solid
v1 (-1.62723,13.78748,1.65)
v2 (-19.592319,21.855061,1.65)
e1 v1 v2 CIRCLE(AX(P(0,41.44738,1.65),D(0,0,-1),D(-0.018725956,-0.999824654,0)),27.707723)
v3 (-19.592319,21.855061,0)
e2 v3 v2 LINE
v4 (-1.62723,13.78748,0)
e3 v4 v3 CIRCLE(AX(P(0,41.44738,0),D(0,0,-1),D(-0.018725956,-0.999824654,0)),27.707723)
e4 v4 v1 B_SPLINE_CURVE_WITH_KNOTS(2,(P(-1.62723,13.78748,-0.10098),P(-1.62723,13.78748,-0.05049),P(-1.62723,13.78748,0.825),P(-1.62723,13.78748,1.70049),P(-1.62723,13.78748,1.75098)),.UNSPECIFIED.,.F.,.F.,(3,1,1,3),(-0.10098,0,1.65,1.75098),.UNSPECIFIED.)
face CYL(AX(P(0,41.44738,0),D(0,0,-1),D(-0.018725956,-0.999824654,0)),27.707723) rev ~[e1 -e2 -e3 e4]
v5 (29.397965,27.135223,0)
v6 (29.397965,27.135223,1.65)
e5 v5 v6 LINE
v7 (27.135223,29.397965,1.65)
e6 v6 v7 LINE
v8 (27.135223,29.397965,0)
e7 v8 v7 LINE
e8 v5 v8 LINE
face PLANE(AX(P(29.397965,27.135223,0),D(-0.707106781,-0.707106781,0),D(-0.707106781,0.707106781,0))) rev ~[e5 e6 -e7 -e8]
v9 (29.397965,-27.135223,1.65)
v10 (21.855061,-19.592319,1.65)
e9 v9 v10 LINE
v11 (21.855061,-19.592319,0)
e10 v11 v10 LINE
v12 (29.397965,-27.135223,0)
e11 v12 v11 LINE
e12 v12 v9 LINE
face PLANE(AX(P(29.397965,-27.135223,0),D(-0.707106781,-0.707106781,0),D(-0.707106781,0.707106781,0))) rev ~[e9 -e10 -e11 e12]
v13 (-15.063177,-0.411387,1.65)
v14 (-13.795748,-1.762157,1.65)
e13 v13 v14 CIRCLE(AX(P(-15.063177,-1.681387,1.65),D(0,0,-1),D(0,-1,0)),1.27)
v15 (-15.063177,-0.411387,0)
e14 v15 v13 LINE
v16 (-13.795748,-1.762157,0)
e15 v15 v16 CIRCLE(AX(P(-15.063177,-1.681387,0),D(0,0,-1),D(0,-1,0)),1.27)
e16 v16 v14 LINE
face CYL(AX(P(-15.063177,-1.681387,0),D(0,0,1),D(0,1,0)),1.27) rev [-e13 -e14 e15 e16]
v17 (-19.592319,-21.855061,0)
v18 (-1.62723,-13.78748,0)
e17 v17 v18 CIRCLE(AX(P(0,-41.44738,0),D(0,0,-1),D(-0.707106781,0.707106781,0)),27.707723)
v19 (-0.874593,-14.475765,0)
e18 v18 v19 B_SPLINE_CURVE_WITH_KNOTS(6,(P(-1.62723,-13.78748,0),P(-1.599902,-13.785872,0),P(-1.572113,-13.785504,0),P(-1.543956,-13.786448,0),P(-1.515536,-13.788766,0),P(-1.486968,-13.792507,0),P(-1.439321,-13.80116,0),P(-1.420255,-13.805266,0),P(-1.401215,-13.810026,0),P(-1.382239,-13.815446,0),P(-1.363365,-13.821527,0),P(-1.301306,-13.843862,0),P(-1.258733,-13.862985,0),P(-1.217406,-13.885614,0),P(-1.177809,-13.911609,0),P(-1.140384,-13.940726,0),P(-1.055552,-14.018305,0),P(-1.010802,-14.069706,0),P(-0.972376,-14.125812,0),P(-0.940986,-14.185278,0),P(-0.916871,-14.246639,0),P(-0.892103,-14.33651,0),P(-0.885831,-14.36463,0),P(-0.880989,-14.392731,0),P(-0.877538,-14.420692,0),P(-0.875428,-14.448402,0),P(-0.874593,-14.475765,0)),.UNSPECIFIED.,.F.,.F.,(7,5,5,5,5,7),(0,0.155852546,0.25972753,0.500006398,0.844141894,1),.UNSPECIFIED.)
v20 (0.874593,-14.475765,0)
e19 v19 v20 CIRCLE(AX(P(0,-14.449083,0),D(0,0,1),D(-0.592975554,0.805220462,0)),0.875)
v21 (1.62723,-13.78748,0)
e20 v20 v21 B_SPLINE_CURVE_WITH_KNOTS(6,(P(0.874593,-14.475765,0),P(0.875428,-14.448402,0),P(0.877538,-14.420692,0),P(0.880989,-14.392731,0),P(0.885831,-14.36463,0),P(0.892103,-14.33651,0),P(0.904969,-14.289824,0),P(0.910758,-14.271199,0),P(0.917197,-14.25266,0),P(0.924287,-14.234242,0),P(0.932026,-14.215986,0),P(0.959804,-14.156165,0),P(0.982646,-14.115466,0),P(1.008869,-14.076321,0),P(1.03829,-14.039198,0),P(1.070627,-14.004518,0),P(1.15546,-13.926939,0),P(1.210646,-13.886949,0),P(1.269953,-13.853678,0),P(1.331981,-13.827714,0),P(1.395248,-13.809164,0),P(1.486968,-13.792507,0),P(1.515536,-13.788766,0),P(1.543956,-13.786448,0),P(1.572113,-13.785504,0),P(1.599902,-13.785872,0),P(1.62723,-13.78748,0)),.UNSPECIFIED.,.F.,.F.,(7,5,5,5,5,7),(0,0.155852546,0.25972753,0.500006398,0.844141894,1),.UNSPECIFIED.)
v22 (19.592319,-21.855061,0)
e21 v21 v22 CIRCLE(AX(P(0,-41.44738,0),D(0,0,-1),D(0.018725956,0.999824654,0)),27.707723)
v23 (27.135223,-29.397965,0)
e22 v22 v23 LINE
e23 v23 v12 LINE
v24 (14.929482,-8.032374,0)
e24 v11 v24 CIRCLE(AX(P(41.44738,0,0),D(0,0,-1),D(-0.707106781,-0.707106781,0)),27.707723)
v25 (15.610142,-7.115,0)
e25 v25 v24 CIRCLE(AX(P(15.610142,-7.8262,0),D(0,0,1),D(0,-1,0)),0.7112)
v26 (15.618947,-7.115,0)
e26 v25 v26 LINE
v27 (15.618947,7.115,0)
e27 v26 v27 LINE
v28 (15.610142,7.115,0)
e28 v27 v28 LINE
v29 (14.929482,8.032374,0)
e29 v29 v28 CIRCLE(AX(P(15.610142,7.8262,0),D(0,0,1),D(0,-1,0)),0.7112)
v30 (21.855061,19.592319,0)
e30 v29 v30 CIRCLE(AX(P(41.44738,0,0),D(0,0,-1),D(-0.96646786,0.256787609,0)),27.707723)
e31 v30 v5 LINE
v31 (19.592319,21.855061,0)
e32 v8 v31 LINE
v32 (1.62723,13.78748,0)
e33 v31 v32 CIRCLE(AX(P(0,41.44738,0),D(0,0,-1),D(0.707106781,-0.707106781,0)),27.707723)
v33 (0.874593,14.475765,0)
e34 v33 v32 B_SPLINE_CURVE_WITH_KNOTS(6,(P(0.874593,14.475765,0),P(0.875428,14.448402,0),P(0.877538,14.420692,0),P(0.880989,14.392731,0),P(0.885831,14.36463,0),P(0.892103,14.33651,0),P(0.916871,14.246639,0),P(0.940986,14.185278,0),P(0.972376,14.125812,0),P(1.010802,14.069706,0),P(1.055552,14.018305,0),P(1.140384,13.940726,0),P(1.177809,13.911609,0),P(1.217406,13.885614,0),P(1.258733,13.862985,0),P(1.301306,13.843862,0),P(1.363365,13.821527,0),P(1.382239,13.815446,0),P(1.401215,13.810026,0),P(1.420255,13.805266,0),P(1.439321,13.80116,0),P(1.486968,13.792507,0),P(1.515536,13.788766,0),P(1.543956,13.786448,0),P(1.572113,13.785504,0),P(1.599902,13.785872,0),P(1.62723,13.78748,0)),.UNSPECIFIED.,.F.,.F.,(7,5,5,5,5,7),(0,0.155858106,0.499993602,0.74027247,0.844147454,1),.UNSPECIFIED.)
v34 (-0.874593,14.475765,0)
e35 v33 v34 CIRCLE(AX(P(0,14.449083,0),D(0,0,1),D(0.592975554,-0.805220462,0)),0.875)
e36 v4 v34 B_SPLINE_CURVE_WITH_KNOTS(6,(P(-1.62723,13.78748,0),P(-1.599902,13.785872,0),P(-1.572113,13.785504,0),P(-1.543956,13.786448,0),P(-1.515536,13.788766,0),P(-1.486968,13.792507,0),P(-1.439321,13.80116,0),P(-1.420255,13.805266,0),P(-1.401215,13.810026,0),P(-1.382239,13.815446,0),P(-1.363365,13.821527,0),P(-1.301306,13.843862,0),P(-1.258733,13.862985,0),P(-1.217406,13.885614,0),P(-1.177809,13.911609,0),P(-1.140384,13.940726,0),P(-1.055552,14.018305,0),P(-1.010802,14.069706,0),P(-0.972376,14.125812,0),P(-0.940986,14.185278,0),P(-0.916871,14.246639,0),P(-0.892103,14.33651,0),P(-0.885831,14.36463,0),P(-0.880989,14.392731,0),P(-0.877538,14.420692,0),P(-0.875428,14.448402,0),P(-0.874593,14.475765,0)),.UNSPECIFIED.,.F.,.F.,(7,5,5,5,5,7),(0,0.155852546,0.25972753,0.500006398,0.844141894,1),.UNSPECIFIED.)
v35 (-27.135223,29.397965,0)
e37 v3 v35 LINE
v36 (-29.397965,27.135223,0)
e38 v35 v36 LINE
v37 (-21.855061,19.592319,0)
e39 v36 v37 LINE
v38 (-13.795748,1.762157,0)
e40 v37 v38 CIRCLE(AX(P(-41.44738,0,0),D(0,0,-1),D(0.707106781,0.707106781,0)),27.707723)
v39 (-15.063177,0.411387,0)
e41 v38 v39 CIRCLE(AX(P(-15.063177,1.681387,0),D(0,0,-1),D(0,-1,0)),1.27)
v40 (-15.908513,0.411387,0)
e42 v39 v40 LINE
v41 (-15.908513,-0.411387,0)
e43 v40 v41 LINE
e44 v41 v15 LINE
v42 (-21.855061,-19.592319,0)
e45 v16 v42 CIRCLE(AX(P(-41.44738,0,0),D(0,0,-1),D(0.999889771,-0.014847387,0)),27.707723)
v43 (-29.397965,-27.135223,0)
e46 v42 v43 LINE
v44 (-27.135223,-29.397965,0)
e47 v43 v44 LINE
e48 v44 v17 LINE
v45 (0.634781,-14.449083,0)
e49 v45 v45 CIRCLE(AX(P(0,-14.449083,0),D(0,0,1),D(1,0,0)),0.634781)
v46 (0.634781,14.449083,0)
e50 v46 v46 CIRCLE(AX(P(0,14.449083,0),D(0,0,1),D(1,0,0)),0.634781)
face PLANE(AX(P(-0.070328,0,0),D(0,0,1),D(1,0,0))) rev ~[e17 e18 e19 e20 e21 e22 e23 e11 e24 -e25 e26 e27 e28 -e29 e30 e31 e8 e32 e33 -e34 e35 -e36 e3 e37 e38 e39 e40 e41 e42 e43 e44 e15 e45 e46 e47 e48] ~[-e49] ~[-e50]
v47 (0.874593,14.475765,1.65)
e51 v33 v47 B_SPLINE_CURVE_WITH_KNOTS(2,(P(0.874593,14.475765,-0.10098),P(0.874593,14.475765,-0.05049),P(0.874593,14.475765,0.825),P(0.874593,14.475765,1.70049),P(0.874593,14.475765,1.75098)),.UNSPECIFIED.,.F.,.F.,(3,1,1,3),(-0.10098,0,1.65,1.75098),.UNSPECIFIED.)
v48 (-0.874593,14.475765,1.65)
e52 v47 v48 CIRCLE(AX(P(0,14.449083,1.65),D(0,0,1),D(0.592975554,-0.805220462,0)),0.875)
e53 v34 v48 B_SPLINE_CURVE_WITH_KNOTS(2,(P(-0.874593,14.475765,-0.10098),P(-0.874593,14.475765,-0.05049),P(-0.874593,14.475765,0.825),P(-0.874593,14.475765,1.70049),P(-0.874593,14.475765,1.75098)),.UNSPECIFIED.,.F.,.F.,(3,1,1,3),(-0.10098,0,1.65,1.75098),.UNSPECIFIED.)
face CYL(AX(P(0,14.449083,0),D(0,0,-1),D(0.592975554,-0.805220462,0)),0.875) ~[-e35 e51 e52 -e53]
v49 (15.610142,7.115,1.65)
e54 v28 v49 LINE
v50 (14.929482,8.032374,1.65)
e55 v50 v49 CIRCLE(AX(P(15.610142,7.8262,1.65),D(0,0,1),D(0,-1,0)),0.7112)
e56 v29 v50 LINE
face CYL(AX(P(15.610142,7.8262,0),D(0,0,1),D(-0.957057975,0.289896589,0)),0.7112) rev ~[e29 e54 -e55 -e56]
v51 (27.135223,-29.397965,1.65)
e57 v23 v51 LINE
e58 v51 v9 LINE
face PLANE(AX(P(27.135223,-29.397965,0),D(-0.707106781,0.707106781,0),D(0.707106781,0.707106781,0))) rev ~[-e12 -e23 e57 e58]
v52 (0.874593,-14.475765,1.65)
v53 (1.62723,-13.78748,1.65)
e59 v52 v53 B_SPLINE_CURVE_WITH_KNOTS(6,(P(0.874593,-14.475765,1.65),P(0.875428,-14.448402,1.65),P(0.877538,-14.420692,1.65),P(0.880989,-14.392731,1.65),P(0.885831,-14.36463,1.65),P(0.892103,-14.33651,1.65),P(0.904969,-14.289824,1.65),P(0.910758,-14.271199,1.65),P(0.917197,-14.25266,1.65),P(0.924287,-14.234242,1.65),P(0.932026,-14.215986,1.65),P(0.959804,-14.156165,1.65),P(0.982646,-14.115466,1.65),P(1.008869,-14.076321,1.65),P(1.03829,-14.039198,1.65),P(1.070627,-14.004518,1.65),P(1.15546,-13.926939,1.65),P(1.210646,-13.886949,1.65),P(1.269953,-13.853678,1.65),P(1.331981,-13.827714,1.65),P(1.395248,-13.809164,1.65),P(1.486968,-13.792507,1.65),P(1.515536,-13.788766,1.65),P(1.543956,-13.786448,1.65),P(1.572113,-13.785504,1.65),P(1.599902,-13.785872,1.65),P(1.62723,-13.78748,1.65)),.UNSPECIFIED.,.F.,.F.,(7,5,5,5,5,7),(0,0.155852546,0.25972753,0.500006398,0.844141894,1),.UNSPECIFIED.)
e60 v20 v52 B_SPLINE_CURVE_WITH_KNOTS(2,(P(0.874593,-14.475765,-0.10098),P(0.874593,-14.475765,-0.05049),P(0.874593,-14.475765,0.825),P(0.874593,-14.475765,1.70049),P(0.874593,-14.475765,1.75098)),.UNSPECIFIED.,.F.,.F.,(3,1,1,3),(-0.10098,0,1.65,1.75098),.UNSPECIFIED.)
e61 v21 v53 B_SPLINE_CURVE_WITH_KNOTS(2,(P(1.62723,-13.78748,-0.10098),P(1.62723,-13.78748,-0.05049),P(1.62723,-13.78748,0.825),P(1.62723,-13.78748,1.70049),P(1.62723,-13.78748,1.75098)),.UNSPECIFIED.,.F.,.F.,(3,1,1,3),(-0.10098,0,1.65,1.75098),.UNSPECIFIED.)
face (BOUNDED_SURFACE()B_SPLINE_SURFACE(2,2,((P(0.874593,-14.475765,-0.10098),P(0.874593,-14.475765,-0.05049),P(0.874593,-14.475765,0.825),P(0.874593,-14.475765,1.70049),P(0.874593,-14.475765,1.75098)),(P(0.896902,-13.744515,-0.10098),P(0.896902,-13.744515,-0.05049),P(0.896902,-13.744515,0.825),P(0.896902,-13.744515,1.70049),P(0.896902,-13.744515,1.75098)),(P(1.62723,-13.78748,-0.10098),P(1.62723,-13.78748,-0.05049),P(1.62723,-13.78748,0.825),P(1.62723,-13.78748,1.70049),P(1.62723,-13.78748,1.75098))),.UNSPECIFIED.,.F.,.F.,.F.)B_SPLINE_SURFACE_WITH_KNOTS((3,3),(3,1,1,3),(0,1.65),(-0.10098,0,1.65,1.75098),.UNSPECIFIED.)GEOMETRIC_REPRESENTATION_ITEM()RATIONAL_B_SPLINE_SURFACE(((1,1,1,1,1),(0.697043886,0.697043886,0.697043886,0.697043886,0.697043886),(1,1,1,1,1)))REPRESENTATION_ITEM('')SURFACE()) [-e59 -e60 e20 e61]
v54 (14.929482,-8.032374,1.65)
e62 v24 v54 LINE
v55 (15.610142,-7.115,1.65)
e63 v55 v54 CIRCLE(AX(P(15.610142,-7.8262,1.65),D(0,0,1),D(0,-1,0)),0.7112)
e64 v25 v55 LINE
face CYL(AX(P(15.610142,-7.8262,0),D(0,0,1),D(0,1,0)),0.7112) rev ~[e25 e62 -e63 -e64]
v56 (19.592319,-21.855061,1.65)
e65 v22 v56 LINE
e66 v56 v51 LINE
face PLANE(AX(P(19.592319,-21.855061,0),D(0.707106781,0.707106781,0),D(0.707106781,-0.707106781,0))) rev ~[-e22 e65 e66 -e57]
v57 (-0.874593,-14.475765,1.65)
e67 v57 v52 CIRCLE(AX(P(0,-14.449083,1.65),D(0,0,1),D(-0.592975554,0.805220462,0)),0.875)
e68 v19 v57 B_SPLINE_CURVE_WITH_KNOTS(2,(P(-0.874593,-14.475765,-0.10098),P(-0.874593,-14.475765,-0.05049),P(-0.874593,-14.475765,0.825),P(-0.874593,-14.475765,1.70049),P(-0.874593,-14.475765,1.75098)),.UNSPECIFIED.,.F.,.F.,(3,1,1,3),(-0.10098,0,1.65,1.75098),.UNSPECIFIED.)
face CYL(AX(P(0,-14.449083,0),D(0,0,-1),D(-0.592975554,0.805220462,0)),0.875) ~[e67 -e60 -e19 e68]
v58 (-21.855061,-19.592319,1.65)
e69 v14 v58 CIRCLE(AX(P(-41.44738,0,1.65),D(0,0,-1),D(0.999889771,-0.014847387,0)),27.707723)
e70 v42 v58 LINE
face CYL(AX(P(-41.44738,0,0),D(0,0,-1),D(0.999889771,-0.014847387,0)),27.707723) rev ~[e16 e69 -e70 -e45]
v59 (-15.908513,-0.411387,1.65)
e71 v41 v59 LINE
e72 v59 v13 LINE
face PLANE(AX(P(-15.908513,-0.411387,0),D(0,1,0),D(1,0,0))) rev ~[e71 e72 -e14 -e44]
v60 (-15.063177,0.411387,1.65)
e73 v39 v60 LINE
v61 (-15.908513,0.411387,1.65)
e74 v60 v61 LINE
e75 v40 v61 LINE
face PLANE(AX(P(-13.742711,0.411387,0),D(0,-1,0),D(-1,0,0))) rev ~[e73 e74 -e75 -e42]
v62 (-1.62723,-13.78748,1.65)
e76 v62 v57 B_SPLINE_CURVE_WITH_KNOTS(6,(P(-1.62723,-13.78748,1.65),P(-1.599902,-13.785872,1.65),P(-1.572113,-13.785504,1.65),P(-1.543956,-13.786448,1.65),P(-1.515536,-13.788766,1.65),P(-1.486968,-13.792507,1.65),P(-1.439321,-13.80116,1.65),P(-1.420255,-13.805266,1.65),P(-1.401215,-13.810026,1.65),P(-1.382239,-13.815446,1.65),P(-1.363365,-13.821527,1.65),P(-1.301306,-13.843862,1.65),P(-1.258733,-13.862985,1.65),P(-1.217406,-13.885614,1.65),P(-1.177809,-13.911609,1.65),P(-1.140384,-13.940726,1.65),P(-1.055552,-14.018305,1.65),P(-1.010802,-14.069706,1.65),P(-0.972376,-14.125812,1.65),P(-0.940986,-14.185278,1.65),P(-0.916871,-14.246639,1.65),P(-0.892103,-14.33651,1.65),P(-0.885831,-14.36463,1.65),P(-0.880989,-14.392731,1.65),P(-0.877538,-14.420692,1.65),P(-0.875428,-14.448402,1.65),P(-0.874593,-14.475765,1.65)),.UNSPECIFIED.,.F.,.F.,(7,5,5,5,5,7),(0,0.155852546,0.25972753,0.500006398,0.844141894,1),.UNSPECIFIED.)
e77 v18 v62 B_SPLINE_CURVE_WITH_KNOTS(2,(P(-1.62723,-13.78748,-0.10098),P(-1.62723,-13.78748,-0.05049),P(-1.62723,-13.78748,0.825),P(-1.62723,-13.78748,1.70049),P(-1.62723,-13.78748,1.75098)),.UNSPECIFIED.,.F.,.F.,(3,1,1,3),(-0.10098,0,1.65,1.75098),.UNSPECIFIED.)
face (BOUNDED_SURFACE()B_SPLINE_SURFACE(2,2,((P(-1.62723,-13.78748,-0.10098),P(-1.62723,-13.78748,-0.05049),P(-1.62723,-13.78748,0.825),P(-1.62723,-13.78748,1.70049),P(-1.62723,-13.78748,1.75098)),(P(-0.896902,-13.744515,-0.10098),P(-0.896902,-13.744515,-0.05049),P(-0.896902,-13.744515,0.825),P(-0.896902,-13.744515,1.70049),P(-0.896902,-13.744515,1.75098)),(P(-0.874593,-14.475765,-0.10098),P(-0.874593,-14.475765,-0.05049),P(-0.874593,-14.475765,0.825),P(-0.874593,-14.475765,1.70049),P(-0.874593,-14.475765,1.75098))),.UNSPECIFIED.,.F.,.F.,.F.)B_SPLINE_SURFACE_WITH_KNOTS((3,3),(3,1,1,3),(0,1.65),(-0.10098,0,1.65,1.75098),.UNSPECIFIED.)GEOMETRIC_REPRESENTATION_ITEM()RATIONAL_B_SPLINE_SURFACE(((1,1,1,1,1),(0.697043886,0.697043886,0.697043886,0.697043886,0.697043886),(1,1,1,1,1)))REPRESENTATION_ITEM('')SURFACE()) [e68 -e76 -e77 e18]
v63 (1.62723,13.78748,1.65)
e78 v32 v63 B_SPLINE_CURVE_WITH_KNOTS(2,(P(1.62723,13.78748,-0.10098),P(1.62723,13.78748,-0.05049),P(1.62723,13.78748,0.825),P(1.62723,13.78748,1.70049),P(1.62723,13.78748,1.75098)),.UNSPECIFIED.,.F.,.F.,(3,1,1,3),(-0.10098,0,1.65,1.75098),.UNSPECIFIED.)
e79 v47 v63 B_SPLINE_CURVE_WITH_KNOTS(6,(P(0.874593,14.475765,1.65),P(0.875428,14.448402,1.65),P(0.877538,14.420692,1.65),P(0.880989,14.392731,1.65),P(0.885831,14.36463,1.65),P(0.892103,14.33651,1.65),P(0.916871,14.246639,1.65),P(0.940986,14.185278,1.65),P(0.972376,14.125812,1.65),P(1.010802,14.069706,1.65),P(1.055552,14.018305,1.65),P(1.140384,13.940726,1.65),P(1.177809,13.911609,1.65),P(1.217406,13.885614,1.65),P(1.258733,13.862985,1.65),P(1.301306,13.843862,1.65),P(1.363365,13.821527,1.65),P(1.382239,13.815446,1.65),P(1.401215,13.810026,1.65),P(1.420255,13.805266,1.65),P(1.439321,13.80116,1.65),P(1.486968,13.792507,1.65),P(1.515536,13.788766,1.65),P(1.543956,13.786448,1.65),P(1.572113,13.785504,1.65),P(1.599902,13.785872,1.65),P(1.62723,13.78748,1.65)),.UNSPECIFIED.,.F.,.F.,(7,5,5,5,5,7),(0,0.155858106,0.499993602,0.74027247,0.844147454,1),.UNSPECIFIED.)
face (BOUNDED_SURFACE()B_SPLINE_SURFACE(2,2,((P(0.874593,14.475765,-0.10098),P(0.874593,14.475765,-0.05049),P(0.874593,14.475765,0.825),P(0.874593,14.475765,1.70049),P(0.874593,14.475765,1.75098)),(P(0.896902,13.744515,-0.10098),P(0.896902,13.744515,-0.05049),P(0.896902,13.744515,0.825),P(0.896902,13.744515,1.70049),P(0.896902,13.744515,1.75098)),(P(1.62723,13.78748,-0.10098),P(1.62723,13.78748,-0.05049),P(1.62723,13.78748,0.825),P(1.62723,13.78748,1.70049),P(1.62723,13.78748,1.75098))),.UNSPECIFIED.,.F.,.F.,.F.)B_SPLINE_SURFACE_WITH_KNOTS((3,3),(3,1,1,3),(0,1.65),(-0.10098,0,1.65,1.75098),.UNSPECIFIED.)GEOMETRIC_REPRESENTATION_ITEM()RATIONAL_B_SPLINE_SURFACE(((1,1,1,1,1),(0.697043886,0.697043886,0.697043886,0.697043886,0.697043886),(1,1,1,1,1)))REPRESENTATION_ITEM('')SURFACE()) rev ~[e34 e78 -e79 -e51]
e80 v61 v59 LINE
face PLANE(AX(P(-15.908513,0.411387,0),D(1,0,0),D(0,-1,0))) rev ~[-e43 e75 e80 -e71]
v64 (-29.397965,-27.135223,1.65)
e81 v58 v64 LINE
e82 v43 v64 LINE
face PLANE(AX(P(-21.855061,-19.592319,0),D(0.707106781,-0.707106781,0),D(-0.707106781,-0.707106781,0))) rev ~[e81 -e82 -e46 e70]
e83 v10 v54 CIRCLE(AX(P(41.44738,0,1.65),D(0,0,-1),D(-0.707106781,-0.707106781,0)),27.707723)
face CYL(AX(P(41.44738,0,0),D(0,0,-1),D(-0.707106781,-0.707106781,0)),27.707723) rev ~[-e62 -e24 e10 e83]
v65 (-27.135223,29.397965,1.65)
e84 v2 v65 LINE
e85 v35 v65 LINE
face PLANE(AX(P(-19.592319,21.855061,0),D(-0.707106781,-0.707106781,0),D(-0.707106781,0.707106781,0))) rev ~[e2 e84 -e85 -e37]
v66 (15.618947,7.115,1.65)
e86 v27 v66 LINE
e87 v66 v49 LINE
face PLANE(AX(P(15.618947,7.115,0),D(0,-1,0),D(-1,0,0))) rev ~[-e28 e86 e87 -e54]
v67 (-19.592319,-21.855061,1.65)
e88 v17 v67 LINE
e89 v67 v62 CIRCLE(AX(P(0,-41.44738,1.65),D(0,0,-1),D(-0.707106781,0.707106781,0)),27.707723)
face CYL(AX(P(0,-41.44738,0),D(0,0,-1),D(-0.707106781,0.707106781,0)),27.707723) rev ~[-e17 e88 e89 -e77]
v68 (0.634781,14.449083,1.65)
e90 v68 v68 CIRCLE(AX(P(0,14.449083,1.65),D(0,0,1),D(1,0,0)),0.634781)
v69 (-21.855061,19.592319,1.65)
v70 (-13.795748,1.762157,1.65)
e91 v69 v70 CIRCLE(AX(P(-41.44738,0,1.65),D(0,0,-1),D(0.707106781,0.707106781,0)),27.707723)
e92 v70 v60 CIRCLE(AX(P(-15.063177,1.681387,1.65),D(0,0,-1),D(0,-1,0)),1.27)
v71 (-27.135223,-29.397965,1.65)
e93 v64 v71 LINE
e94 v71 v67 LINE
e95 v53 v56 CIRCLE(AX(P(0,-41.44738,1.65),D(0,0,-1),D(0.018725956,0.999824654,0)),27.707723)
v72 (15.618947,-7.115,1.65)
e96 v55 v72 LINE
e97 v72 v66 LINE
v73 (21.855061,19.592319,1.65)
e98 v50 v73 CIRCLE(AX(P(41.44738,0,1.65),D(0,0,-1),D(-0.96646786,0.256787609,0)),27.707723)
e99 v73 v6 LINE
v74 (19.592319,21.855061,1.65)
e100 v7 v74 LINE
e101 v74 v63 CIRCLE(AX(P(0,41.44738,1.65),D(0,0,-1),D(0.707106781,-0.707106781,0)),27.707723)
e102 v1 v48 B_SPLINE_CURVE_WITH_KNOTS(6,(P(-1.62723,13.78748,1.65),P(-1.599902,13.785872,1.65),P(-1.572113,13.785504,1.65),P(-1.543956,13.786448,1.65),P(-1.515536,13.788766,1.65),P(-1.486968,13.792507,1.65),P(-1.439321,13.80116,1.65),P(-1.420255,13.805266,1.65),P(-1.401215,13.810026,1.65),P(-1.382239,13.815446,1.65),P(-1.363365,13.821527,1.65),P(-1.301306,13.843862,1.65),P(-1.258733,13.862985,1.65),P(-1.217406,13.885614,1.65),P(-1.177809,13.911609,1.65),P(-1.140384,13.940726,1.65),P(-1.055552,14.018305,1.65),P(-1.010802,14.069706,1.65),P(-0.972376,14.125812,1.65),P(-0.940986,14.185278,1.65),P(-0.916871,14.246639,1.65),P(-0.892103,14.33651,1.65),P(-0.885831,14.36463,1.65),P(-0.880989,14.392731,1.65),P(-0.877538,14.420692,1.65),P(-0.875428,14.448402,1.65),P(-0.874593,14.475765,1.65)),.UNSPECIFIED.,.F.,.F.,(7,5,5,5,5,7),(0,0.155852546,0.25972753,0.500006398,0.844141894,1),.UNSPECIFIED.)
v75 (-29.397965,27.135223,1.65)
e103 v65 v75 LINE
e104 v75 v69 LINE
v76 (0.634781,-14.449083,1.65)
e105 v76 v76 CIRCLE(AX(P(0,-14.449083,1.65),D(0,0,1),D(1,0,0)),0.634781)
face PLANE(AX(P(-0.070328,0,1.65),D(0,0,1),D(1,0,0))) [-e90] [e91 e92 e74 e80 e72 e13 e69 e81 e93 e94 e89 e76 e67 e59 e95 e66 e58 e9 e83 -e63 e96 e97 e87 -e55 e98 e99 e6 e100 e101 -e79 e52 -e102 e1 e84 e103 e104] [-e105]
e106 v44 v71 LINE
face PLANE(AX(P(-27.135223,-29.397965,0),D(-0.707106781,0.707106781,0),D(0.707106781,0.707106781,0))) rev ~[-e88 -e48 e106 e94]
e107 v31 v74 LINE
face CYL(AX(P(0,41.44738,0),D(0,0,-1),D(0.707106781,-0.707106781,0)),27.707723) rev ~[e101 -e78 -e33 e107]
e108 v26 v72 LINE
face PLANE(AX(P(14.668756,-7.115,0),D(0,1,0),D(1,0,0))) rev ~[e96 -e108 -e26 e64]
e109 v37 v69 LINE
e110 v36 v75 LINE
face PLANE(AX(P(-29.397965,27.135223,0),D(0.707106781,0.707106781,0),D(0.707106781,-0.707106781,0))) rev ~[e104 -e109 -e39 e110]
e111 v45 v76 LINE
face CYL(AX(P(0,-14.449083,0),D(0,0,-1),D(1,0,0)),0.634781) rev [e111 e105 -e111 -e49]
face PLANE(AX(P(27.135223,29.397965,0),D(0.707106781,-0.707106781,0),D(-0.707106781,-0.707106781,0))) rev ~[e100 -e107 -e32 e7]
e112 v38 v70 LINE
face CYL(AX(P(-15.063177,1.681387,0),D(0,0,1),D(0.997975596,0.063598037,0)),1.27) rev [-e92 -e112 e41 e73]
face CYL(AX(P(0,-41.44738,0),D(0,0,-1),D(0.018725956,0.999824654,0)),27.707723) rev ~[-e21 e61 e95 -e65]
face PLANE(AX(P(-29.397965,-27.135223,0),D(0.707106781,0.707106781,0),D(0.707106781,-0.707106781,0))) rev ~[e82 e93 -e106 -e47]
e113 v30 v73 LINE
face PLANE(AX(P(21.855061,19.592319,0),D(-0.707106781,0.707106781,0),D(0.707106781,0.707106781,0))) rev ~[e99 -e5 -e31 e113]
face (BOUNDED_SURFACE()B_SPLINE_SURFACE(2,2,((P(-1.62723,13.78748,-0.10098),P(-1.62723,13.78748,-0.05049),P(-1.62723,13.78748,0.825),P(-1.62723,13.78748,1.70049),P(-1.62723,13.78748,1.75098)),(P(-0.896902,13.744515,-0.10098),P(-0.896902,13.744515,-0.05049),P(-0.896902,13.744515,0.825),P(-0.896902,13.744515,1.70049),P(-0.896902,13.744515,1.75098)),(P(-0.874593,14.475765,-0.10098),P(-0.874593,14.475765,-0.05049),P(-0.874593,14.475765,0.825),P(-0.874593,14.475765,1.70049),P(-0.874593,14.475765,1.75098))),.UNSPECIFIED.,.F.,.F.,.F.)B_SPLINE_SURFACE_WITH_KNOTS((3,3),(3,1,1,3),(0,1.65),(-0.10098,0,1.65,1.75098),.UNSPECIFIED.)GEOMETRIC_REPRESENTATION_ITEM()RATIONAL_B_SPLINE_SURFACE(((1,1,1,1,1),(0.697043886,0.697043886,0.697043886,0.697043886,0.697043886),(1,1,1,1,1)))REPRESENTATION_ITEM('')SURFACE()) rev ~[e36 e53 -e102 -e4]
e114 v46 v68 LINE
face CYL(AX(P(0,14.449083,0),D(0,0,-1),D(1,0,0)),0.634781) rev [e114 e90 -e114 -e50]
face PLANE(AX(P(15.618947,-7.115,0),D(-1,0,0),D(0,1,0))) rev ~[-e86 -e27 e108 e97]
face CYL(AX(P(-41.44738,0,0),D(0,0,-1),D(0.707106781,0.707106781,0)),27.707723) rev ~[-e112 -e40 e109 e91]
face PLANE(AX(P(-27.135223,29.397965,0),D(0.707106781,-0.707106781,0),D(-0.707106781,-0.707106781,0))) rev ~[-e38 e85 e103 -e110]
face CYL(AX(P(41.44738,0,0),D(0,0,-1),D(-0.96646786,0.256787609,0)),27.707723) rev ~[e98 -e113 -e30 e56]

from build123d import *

# Parameters (mm, degrees)
SKETCH1_R           = 0.634780864
BOSS_EXTRUDE1_DEPTH = 1.65
FILLET1_R           = 0.7112
FILLET2_R           = 0.7112
FILLET3_R           = 1.27


with BuildPart() as part:
    # Sketch1 → Boss-Extrude1 (new body)
    with BuildSketch(Plane.XY):
        with BuildLine():
            Line((-27.135222714, 29.397964527), (-29.397964527, 27.135222714))
            Line((-29.397964527, 27.135222714), (-21.855060774, 19.592318961))
            ThreePointArc((-21.855060774, 19.592318961), (-15.928204538, 10.7930358), (-13.742710724, 0.41138729))
            Line((-13.742710724, 0.41138729), (-15.908512943, 0.41138729))
            Line((-15.908512943, 0.41138729), (-15.908512943, -0.41138729))
            Line((-15.908512943, -0.41138729), (-13.742710724, -0.41138729))
            ThreePointArc((-13.742710724, -0.41138729), (-15.928204538, -10.7930358), (-21.855060774, -19.592318961))
            Line((-21.855060774, -19.592318961), (-29.397964527, -27.135222714))
            Line((-29.397964527, -27.135222714), (-27.135222714, -29.397964527))
            Line((-27.135222714, -29.397964527), (-19.592318961, -21.855060774))
            ThreePointArc((-19.592318961, -21.855060774), (-10.842511416, -15.949186255), (-0.51885361, -13.744514983))
            ThreePointArc((-0.51885361, -13.744514983), (0, -15.324082887), (0.51885361, -13.744514983))
            ThreePointArc((0.51885361, -13.744514983), (10.842511416, -15.949186255), (19.592318961, -21.855060774))
            Line((19.592318961, -21.855060774), (27.135222714, -29.397964527))
            Line((27.135222714, -29.397964527), (29.397964527, -27.135222714))
            Line((29.397964527, -27.135222714), (21.855060774, -19.592318961))
            ThreePointArc((21.855060774, -19.592318961), (17.437236913, -13.828628501), (14.668755804, -7.114999994))
            Line((14.668755804, -7.114999994), (15.618947426, -7.114999994))
            Line((15.618947426, -7.114999994), (15.618947426, 7.114999994))
            Line((15.618947426, 7.114999994), (14.668755804, 7.114999994))
            ThreePointArc((14.668755804, 7.114999994), (17.437236913, 13.828628501), (21.855060774, 19.592318961))
            Line((21.855060774, 19.592318961), (29.397964527, 27.135222714))
            Line((29.397964527, 27.135222714), (27.135222714, 29.397964527))
            Line((27.135222714, 29.397964527), (19.592318961, 21.855060774))
            ThreePointArc((19.592318961, 21.855060774), (10.842511416, 15.949186255), (0.51885361, 13.744514983))
            ThreePointArc((0.51885361, 13.744514983), (0, 15.324082887), (-0.51885361, 13.744514983))
            ThreePointArc((-0.51885361, 13.744514983), (-10.842511416, 15.949186255), (-19.592318961, 21.855060774))
            Line((-19.592318961, 21.855060774), (-27.135222714, 29.397964527))
        make_face()
        with Locations((0, 14.449082887)):
            Circle(SKETCH1_R, mode=Mode.SUBTRACT)
        with Locations((0, -14.449082887)):
            Circle(SKETCH1_R, mode=Mode.SUBTRACT)
    extrude(amount=BOSS_EXTRUDE1_DEPTH)

    # Fillet1
    fillet1_edges = [part.edges().sort_by_distance(p)[0] for p in [
        (0.51885361, 13.744514983, 0.825),
        (0.51885361, -13.744514983, 0.825),
        (-0.51885361, -13.744514983, 0.825),
        (-0.51885361, 13.744514983, 0.825),
    ]]
    fillet(fillet1_edges, radius=FILLET1_R)

    # Fillet2
    fillet2_edges = [part.edges().sort_by_distance(p)[0] for p in [
        (14.668755804, 7.114999994, 0.825),
        (14.668755804, -7.114999994, 0.825),
    ]]
    fillet(fillet2_edges, radius=FILLET2_R)

    # Fillet3
    fillet3_edges = [part.edges().sort_by_distance(p)[0] for p in [
        (-13.742710724, -0.41138729, 0.825),
        (-13.742710724, 0.41138729, 0.825),
    ]]
    fillet(fillet3_edges, radius=FILLET3_R)


solid = part.part
